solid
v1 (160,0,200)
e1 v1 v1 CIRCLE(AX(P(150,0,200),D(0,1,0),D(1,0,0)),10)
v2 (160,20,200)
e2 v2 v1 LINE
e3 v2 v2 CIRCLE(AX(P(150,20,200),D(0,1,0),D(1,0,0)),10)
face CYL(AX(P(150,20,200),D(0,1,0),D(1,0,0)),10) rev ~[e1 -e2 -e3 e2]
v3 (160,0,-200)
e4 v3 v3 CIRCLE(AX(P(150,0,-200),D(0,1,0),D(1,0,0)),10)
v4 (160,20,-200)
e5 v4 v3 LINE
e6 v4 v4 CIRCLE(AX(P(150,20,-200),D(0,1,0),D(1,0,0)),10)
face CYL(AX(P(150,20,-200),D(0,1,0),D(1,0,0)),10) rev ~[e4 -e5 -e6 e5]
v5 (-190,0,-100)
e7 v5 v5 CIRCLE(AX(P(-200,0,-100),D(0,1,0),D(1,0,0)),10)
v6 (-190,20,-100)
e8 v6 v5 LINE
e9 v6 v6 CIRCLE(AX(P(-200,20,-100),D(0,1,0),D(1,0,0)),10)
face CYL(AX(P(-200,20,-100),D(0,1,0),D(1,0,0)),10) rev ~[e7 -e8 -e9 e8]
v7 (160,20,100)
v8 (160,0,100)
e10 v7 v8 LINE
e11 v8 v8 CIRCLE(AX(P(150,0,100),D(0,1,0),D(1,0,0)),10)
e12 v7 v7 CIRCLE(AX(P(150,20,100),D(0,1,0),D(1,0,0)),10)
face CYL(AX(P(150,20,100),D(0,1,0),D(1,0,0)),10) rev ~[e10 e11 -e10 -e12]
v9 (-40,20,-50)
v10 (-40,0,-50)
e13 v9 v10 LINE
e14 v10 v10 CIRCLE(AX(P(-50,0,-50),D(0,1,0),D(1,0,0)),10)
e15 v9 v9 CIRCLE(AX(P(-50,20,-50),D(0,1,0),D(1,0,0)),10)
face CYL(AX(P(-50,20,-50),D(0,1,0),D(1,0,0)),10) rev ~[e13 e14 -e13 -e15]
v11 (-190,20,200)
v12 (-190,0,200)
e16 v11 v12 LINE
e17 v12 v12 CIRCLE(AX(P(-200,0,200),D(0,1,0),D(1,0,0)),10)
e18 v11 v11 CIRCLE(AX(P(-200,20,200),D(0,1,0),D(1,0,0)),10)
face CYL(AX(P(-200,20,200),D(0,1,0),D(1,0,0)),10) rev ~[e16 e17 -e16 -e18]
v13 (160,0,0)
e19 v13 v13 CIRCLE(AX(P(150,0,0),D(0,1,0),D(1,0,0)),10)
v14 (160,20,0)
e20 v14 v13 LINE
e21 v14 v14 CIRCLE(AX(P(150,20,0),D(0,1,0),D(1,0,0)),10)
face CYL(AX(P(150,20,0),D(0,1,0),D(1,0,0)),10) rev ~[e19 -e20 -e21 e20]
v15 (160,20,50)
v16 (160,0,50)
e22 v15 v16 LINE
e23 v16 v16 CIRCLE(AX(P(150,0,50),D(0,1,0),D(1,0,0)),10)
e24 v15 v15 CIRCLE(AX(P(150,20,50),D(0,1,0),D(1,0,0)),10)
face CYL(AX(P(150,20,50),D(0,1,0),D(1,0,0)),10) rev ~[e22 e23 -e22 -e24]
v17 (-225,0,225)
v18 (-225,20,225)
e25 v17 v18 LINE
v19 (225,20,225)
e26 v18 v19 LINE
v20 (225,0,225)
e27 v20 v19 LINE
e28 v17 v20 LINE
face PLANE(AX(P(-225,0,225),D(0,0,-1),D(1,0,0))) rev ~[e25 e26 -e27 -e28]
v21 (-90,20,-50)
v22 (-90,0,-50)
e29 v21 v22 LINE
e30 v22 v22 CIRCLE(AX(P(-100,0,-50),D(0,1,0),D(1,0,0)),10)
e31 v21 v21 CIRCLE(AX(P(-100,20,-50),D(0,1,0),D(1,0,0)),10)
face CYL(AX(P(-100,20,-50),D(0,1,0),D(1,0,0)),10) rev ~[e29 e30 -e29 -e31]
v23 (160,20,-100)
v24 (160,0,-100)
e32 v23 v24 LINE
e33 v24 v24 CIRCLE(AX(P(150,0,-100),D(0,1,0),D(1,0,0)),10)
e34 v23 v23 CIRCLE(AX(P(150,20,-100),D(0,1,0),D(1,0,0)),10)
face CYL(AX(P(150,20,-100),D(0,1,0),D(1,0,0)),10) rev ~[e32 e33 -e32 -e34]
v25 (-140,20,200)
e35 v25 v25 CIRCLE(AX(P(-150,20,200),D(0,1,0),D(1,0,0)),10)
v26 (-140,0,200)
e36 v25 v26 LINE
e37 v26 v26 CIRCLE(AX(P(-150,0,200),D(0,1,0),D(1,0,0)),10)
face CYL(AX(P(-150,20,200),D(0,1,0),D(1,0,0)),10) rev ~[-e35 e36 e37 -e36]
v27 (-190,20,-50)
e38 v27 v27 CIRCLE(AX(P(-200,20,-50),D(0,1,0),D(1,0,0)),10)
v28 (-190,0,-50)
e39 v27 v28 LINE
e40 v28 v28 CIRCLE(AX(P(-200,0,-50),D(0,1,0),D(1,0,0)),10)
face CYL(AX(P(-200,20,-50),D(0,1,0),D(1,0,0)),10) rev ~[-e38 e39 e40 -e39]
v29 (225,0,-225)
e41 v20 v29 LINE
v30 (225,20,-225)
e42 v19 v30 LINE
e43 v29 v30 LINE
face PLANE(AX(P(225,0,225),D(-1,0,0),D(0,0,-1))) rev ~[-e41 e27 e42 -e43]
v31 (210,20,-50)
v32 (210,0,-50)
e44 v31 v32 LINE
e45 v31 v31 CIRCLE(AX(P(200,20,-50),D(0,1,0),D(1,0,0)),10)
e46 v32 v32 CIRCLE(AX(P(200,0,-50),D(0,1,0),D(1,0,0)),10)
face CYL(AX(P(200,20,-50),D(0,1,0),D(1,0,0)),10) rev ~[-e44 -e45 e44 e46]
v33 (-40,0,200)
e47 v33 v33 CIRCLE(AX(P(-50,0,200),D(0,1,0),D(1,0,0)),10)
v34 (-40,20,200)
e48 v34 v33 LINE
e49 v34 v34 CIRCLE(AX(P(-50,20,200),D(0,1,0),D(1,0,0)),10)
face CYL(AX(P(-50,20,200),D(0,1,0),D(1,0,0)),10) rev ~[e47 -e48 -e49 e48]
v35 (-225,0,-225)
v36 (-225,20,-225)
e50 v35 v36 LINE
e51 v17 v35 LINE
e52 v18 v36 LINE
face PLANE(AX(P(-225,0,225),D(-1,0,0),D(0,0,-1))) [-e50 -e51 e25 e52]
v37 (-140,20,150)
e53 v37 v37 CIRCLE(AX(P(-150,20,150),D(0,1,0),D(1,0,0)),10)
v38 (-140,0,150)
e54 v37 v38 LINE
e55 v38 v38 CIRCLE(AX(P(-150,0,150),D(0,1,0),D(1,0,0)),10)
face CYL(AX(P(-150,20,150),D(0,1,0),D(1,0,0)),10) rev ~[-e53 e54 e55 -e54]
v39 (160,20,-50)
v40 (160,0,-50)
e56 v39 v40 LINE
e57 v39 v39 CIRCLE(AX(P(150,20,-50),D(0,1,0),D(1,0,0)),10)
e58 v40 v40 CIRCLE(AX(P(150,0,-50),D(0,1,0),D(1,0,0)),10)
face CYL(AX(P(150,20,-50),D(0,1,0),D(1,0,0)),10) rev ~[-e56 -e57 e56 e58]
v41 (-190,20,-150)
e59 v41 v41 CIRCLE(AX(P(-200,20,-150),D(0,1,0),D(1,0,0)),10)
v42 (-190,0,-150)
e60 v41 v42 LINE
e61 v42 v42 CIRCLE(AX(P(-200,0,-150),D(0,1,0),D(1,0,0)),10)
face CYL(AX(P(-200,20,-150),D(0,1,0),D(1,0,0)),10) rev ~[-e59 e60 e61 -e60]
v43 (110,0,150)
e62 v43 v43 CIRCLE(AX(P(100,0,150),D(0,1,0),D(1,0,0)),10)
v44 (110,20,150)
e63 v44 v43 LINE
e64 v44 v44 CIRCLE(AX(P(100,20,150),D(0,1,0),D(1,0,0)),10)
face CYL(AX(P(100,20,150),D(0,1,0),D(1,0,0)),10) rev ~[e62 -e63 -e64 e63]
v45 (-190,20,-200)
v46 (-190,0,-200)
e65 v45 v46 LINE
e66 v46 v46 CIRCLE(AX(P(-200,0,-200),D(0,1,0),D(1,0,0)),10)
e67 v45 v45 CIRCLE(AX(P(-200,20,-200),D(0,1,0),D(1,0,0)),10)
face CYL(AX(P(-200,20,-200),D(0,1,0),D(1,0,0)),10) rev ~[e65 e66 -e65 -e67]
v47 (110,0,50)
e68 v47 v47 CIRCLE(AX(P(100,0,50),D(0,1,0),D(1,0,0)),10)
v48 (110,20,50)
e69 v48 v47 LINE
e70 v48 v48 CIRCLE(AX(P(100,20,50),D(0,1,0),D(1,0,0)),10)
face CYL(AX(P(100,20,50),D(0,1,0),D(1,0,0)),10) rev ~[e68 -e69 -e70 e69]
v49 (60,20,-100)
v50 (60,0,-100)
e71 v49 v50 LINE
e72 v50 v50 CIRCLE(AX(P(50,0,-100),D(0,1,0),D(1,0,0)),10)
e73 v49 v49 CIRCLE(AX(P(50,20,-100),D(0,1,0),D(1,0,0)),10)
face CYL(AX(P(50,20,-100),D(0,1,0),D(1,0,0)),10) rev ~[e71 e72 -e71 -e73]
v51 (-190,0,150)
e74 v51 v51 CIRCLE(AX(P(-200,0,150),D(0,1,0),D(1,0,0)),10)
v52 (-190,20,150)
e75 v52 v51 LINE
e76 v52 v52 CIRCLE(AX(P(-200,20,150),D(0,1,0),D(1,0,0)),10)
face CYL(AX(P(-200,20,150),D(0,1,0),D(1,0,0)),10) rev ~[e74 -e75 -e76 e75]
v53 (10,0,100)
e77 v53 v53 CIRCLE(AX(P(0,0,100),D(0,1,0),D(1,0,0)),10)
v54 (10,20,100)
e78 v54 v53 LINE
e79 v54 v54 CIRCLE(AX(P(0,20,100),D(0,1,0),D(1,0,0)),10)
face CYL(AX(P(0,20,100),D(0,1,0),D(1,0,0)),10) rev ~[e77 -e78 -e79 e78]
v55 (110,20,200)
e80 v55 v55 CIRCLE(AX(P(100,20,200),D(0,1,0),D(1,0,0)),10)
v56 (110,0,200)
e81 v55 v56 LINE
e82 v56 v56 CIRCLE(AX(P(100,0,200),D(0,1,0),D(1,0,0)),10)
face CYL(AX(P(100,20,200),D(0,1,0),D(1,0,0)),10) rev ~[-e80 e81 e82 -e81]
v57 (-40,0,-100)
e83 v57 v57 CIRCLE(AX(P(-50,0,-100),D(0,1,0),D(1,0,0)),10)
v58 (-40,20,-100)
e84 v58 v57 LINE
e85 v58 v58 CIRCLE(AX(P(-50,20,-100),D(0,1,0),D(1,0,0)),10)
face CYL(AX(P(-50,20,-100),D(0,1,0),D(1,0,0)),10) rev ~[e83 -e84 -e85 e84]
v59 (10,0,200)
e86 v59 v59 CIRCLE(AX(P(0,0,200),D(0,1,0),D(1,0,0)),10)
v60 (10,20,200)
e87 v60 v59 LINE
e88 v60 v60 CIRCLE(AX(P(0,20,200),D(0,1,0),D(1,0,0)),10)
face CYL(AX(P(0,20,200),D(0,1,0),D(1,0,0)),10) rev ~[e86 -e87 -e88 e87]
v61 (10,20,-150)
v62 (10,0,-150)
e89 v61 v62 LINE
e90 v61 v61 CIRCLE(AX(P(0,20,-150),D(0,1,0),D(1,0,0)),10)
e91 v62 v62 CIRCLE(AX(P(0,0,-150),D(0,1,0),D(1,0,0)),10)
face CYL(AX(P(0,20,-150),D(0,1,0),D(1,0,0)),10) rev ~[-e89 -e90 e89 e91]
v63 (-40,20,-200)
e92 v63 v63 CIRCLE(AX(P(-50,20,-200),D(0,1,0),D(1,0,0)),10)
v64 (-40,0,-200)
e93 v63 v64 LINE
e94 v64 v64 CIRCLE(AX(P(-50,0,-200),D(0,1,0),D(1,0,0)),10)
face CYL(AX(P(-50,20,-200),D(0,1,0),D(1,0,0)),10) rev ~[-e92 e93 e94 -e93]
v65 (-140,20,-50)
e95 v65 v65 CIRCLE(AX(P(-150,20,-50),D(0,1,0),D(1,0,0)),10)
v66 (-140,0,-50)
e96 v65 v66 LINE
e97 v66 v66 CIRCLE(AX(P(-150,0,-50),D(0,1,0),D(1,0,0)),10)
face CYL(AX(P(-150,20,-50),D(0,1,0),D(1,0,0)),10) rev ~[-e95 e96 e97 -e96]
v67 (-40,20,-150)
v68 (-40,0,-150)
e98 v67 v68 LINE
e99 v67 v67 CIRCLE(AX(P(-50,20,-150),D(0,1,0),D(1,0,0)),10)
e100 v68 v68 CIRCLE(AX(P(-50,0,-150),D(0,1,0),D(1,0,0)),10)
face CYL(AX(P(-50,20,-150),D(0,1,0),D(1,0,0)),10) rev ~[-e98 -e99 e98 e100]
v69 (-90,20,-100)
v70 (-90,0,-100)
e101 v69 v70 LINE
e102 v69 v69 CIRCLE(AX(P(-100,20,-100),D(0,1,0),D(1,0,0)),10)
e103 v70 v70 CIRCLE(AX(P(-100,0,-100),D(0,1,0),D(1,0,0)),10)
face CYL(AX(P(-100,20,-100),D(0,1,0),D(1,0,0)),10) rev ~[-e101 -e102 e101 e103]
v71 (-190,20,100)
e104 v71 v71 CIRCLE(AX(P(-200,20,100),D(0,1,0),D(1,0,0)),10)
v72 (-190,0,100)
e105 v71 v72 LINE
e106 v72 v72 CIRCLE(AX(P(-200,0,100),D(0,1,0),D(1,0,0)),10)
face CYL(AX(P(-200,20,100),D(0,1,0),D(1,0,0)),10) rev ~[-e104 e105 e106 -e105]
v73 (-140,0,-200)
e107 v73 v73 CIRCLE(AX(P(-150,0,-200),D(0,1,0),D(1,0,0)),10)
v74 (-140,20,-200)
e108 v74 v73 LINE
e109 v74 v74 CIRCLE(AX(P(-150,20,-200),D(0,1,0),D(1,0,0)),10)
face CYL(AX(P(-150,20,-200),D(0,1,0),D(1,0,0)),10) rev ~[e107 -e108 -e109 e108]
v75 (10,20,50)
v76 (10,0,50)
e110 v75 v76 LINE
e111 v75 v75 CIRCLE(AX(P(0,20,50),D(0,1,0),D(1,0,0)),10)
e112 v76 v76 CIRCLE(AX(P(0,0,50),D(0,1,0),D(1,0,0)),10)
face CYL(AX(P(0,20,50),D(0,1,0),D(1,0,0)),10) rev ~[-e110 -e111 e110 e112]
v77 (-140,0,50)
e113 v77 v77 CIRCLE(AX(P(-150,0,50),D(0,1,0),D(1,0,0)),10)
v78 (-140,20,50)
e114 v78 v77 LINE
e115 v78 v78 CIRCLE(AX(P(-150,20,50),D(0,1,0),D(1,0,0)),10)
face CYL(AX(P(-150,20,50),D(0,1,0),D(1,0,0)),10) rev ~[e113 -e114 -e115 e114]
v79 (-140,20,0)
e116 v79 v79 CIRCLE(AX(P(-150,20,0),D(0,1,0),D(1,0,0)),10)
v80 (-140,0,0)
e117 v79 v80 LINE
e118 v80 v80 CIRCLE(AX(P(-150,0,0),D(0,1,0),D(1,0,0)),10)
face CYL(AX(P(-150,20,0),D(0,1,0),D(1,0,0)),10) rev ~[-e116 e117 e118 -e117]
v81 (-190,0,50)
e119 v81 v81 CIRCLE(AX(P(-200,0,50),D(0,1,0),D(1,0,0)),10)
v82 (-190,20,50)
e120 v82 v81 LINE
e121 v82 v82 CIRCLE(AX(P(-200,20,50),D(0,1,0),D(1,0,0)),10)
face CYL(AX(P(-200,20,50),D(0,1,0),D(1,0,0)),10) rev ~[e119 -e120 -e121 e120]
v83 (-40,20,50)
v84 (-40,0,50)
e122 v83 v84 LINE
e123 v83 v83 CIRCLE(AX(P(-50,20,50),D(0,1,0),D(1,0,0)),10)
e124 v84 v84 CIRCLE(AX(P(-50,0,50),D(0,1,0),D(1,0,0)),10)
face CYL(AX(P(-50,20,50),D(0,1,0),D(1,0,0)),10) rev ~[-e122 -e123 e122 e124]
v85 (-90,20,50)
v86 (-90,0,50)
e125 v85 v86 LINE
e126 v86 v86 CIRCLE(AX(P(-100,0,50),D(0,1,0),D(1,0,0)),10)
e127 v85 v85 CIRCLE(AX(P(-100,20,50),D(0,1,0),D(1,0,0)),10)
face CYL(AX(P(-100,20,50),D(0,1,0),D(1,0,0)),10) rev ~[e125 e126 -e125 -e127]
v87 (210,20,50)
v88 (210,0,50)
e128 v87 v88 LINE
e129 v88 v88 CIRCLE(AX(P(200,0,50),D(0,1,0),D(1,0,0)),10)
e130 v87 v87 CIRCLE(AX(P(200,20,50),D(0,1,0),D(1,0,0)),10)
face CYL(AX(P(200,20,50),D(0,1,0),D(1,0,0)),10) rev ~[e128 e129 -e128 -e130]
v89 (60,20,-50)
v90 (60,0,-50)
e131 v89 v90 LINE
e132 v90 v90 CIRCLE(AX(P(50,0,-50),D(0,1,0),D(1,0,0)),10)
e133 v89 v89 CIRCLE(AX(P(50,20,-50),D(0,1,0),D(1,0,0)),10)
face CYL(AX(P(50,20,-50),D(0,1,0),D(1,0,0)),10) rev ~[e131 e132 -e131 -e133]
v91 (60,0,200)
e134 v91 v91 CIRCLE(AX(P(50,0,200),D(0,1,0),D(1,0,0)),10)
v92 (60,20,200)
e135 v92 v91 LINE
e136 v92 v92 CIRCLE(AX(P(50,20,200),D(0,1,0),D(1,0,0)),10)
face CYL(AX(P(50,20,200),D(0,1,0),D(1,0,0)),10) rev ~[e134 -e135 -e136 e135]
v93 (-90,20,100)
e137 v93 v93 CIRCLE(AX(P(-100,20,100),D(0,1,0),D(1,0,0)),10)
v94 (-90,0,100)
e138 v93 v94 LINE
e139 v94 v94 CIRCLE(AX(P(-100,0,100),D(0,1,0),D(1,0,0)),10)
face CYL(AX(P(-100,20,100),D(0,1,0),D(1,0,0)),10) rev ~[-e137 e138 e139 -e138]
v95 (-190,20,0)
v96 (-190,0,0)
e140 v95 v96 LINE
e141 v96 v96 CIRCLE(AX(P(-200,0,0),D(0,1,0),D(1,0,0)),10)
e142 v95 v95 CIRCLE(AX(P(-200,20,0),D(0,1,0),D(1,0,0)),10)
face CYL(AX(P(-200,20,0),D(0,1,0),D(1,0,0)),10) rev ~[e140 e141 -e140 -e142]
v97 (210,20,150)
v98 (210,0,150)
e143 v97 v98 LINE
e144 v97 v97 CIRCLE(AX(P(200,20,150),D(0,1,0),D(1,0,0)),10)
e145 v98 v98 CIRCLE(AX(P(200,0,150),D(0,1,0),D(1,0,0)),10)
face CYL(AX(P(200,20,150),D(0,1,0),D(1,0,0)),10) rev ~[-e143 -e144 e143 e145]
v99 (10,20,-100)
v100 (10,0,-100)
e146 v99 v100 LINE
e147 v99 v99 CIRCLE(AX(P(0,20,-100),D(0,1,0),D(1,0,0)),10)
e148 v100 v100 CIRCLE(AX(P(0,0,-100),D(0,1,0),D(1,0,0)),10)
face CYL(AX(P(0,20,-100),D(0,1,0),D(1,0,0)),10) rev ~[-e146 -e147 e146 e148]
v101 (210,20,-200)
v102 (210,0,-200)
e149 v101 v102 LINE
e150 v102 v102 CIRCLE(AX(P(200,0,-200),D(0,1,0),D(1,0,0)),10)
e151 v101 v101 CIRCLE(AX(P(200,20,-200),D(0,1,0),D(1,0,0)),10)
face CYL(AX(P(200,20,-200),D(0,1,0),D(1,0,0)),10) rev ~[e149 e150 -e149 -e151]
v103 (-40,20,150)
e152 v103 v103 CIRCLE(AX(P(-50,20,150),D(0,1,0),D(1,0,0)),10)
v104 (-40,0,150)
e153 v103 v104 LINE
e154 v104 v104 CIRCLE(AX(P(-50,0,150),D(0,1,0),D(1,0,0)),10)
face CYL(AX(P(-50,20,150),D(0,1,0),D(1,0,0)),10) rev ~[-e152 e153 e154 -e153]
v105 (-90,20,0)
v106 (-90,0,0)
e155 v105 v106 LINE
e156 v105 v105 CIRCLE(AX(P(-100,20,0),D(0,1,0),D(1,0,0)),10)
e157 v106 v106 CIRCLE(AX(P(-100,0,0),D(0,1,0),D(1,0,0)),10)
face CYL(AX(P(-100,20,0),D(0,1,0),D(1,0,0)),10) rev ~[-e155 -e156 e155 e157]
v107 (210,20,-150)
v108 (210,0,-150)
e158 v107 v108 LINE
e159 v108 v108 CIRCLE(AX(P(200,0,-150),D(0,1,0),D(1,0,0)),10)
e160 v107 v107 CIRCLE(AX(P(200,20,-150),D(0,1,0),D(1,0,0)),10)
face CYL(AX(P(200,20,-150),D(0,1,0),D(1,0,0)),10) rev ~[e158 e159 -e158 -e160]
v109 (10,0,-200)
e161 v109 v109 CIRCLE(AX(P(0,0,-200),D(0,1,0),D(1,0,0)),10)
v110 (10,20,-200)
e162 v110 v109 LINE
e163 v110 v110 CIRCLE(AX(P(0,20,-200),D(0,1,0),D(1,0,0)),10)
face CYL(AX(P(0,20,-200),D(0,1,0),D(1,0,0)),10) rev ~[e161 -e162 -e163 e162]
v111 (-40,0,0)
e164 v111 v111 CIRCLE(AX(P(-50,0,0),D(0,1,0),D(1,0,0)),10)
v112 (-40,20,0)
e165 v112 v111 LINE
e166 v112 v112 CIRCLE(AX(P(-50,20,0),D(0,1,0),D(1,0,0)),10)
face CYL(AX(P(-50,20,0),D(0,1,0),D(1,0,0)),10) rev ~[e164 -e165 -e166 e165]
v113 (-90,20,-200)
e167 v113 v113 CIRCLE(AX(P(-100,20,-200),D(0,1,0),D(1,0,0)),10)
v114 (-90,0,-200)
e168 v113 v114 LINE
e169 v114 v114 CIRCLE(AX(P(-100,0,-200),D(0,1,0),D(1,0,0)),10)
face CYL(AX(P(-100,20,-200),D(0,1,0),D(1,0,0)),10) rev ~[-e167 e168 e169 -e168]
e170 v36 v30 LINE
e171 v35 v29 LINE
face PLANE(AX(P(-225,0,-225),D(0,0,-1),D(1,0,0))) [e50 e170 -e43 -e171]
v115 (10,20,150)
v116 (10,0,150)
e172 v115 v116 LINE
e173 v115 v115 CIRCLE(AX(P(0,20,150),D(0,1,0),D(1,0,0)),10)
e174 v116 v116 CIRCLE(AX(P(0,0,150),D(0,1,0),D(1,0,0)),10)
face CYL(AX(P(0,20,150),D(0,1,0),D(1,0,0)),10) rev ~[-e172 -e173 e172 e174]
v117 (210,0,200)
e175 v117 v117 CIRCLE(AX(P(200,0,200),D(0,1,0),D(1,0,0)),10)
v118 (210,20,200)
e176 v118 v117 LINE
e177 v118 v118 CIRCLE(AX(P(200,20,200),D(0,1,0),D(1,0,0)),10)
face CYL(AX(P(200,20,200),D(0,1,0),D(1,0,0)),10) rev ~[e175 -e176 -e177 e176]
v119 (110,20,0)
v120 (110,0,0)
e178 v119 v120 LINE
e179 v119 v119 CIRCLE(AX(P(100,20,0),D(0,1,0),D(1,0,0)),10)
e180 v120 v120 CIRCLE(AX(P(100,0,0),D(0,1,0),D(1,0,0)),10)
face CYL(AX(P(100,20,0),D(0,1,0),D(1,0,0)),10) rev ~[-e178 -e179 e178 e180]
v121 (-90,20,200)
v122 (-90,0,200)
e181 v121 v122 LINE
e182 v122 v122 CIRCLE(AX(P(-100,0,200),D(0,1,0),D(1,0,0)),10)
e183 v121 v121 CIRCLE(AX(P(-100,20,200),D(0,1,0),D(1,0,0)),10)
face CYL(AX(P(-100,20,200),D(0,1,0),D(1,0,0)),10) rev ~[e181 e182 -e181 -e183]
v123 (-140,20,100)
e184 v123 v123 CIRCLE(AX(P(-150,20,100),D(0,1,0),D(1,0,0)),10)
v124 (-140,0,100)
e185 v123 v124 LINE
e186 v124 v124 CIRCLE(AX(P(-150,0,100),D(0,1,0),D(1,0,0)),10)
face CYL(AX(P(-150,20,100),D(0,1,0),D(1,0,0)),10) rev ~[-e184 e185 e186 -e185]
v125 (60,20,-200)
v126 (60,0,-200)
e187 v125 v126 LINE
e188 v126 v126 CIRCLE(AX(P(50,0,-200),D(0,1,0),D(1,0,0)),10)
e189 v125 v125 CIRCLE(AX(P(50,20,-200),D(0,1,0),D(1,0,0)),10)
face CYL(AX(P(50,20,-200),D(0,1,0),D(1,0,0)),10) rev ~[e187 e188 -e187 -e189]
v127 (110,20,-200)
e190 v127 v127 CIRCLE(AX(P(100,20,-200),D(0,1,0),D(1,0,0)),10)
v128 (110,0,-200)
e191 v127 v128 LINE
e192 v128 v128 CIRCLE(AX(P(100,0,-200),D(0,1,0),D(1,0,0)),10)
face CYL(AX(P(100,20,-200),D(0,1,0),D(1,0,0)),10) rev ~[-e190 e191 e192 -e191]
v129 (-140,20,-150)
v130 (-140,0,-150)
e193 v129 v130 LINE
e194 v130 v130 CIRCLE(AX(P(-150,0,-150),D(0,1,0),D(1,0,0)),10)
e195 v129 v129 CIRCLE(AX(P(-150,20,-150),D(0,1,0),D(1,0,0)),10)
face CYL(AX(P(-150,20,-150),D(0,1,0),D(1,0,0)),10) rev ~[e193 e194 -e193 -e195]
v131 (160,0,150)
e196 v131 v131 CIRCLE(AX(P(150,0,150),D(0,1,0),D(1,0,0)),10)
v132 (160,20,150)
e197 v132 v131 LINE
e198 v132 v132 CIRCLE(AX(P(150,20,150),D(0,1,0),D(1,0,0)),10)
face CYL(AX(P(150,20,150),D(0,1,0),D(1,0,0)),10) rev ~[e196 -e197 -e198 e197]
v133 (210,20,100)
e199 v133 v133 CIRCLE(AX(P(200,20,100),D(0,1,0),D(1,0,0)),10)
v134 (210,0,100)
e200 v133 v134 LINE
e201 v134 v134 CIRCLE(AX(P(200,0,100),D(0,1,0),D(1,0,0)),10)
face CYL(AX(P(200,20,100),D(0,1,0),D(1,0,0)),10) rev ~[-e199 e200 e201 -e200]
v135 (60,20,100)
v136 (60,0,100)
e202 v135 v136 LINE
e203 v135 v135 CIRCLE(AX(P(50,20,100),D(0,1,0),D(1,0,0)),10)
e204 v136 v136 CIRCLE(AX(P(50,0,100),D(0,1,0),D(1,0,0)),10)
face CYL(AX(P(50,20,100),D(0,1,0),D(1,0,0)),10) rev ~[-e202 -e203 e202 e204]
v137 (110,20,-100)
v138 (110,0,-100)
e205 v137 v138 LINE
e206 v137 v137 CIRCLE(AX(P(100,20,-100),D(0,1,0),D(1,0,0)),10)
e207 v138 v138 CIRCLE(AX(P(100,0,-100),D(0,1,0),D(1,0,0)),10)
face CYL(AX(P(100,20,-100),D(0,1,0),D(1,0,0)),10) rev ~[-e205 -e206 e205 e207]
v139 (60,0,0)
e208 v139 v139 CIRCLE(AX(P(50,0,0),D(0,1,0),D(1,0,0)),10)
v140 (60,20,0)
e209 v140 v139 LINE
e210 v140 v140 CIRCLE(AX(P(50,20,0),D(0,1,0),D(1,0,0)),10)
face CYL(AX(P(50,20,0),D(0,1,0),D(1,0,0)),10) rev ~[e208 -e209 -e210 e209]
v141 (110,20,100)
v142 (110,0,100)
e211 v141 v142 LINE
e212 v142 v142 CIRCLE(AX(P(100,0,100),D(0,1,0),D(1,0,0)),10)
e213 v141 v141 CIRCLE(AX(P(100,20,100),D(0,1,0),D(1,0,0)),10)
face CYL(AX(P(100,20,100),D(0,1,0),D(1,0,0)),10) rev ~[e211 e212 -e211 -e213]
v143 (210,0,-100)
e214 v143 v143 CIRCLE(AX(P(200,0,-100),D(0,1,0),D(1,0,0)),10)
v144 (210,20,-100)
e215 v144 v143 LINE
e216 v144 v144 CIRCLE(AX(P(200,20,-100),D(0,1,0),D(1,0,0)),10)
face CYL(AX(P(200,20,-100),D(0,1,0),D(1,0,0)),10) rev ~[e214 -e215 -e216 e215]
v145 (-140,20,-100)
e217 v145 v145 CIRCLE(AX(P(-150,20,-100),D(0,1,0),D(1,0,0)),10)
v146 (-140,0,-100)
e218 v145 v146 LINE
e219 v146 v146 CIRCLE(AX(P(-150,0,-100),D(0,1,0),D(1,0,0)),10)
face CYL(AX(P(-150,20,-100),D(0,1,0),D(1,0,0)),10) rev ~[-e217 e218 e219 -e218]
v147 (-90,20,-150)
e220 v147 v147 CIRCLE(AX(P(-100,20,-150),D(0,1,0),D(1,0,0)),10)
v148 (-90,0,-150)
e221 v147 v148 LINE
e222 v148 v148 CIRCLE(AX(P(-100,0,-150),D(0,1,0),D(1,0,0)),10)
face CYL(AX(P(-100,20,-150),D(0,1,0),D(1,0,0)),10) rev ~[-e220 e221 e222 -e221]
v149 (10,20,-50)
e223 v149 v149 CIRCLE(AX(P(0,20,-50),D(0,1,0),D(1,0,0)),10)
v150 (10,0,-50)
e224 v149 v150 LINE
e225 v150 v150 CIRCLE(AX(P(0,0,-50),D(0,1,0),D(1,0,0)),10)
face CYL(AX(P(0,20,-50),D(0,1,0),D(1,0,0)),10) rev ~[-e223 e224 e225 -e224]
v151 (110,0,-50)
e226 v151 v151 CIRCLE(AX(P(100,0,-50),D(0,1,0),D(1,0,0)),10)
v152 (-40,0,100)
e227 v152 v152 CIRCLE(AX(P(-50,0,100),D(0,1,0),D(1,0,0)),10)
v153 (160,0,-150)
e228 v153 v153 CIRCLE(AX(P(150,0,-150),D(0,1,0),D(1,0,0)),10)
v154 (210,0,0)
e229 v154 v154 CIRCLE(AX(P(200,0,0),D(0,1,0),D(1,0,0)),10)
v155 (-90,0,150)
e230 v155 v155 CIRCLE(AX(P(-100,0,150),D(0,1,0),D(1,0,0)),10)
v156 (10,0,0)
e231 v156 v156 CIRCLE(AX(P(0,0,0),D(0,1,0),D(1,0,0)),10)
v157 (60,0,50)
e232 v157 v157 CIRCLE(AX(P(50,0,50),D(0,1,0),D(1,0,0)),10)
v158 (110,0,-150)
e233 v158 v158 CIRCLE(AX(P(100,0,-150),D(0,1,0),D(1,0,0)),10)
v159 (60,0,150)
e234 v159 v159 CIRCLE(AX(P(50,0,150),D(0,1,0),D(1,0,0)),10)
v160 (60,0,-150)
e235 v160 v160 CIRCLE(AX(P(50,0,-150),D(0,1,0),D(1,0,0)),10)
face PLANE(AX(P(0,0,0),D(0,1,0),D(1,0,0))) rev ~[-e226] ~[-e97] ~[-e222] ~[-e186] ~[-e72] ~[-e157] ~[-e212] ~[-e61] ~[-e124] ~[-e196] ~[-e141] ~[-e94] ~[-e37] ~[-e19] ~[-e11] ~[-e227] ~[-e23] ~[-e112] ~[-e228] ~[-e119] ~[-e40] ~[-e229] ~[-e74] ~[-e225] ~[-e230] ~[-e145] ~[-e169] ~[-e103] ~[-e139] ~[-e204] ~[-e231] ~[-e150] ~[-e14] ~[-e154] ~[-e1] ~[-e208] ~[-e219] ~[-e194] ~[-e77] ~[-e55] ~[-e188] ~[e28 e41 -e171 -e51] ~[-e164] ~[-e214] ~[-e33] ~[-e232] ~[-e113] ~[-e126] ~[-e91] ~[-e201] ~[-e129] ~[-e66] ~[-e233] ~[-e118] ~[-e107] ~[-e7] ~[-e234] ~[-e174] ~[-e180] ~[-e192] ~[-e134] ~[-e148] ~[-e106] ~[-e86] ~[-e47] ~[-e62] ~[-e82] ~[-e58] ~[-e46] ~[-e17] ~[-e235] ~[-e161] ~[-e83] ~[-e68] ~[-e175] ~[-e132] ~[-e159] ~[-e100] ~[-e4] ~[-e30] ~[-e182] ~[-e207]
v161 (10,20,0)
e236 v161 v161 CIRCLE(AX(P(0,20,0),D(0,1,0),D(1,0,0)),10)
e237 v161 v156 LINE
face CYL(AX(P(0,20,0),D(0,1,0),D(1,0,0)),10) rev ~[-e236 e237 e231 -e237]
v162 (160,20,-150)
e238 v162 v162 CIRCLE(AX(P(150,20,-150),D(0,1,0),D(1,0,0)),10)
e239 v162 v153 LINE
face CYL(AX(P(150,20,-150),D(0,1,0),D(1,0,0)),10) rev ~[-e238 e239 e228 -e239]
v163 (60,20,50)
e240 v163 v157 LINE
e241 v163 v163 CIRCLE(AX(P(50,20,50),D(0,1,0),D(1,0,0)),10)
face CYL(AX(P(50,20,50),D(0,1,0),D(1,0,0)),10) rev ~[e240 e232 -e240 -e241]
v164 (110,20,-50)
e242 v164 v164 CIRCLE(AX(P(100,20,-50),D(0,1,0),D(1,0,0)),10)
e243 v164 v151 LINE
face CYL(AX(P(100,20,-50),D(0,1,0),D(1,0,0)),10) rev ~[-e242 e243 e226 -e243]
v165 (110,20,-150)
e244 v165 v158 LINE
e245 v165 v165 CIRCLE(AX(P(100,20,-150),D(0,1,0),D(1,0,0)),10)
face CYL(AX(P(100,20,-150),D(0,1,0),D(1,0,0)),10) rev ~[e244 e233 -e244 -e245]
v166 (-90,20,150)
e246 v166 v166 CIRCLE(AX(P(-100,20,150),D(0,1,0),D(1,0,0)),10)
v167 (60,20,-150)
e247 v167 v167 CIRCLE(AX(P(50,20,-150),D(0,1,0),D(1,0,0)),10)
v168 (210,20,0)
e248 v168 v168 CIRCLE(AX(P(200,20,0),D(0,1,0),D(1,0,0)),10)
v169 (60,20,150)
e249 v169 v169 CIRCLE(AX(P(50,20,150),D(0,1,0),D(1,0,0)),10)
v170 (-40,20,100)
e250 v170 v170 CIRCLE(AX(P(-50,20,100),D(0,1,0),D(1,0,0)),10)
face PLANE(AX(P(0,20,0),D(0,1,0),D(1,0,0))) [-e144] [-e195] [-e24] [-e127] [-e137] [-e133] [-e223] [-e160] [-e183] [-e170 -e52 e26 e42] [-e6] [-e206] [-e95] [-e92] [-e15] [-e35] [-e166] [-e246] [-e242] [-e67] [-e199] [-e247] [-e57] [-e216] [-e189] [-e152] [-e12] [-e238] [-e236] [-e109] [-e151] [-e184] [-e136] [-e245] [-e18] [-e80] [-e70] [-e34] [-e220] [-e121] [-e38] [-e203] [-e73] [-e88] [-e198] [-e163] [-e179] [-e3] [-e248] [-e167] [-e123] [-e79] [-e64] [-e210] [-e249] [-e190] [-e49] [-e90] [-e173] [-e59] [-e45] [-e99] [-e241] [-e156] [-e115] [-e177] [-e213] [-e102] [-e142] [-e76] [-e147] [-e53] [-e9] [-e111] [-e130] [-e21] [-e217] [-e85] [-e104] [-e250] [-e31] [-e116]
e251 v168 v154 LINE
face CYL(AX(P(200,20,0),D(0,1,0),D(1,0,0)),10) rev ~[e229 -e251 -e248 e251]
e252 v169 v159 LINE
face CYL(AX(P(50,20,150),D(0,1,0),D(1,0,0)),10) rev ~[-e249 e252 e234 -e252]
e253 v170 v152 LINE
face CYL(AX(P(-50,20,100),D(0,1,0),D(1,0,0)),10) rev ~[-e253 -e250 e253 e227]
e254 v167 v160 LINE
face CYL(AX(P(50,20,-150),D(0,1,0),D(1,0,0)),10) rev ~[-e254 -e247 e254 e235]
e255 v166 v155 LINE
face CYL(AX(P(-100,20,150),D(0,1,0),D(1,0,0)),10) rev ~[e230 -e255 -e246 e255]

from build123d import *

# Parameters (mm, degrees)
ESBO_O1_W                = 450
ESBO_O1_H                = 450
RESSALTO_EXTRUS_O1_DEPTH = 20
ESBO_O2_R                = 10
CORTE_EXTRUS_O1_DEPTH    = 21


with BuildPart() as part:
    # Esboço1 → Ressalto-extrusão1 (new body)
    with BuildSketch(Plane(origin=(0, 0, 0), x_dir=(1, 0, 0), z_dir=(0, 1, 0))):
        Rectangle(ESBO_O1_W, ESBO_O1_H)
    extrude(amount=RESSALTO_EXTRUS_O1_DEPTH)

    # Esboço2 → Corte-extrusão1 (cut, through all)
    with BuildSketch(Plane(origin=(0, 20, 0), x_dir=(1, 0, 0), z_dir=(0, 1, 0))):
        with Locations((-200, 200)):
            Circle(ESBO_O2_R)
        with Locations((-150, 200)):
            Circle(ESBO_O2_R)
        with Locations((-100, 200)):
            Circle(ESBO_O2_R)
        with Locations((-50, 200)):
            Circle(ESBO_O2_R)
        with Locations((0, 200)):
            Circle(ESBO_O2_R)
        with Locations((50, 200)):
            Circle(ESBO_O2_R)
        with Locations((100, 200)):
            Circle(ESBO_O2_R)
        with Locations((150, 200)):
            Circle(ESBO_O2_R)
        with Locations((200, 200)):
            Circle(ESBO_O2_R)
        with Locations((250, 200)):
            Circle(ESBO_O2_R)
        with Locations((-150, 150)):
            Circle(ESBO_O2_R)
        with Locations((-100, 150)):
            Circle(ESBO_O2_R)
        with Locations((-50, 150)):
            Circle(ESBO_O2_R)
        with Locations((0, 150)):
            Circle(ESBO_O2_R)
        with Locations((50, 150)):
            Circle(ESBO_O2_R)
        with Locations((100, 150)):
            Circle(ESBO_O2_R)
        with Locations((150, 150)):
            Circle(ESBO_O2_R)
        with Locations((200, 150)):
            Circle(ESBO_O2_R)
        with Locations((250, 150)):
            Circle(ESBO_O2_R)
        with Locations((-150, 100)):
            Circle(ESBO_O2_R)
        with Locations((-100, 100)):
            Circle(ESBO_O2_R)
        with Locations((-50, 100)):
            Circle(ESBO_O2_R)
        with Locations((0, 100)):
            Circle(ESBO_O2_R)
        with Locations((50, 100)):
            Circle(ESBO_O2_R)
        with Locations((100, 100)):
            Circle(ESBO_O2_R)
        with Locations((150, 100)):
            Circle(ESBO_O2_R)
        with Locations((200, 100)):
            Circle(ESBO_O2_R)
        with Locations((250, 100)):
            Circle(ESBO_O2_R)
        with Locations((-150, 50)):
            Circle(ESBO_O2_R)
        with Locations((-100, 50)):
            Circle(ESBO_O2_R)
        with Locations((-50, 50)):
            Circle(ESBO_O2_R)
        with Locations((0, 50)):
            Circle(ESBO_O2_R)
        with Locations((50, 50)):
            Circle(ESBO_O2_R)
        with Locations((100, 50)):
            Circle(ESBO_O2_R)
        with Locations((150, 50)):
            Circle(ESBO_O2_R)
        with Locations((200, 50)):
            Circle(ESBO_O2_R)
        with Locations((250, 50)):
            Circle(ESBO_O2_R)
        with Locations((-150, 0)):
            Circle(ESBO_O2_R)
        with Locations((-100, 0)):
            Circle(ESBO_O2_R)
        with Locations((-50, 0)):
            Circle(ESBO_O2_R)
        Circle(ESBO_O2_R)
        with Locations((50, 0)):
            Circle(ESBO_O2_R)
        with Locations((100, 0)):
            Circle(ESBO_O2_R)
        with Locations((150, 0)):
            Circle(ESBO_O2_R)
        with Locations((200, 0)):
            Circle(ESBO_O2_R)
        with Locations((250, 0)):
            Circle(ESBO_O2_R)
        with Locations((-150, -50)):
            Circle(ESBO_O2_R)
        with Locations((-100, -50)):
            Circle(ESBO_O2_R)
        with Locations((-50, -50)):
            Circle(ESBO_O2_R)
        with Locations((0, -50)):
            Circle(ESBO_O2_R)
        with Locations((50, -50)):
            Circle(ESBO_O2_R)
        with Locations((100, -50)):
            Circle(ESBO_O2_R)
        with Locations((150, -50)):
            Circle(ESBO_O2_R)
        with Locations((200, -50)):
            Circle(ESBO_O2_R)
        with Locations((250, -50)):
            Circle(ESBO_O2_R)
        with Locations((-150, -100)):
            Circle(ESBO_O2_R)
        with Locations((-100, -100)):
            Circle(ESBO_O2_R)
        with Locations((-50, -100)):
            Circle(ESBO_O2_R)
        with Locations((0, -100)):
            Circle(ESBO_O2_R)
        with Locations((50, -100)):
            Circle(ESBO_O2_R)
        with Locations((100, -100)):
            Circle(ESBO_O2_R)
        with Locations((150, -100)):
            Circle(ESBO_O2_R)
        with Locations((200, -100)):
            Circle(ESBO_O2_R)
        with Locations((250, -100)):
            Circle(ESBO_O2_R)
        with Locations((-150, -150)):
            Circle(ESBO_O2_R)
        with Locations((-100, -150)):
            Circle(ESBO_O2_R)
        with Locations((-50, -150)):
            Circle(ESBO_O2_R)
        with Locations((0, -150)):
            Circle(ESBO_O2_R)
        with Locations((50, -150)):
            Circle(ESBO_O2_R)
        with Locations((100, -150)):
            Circle(ESBO_O2_R)
        with Locations((150, -150)):
            Circle(ESBO_O2_R)
        with Locations((200, -150)):
            Circle(ESBO_O2_R)
        with Locations((250, -150)):
            Circle(ESBO_O2_R)
        with Locations((-150, -200)):
            Circle(ESBO_O2_R)
        with Locations((-100, -200)):
            Circle(ESBO_O2_R)
        with Locations((-50, -200)):
            Circle(ESBO_O2_R)
        with Locations((0, -200)):
            Circle(ESBO_O2_R)
        with Locations((50, -200)):
            Circle(ESBO_O2_R)
        with Locations((100, -200)):
            Circle(ESBO_O2_R)
        with Locations((150, -200)):
            Circle(ESBO_O2_R)
        with Locations((200, -200)):
            Circle(ESBO_O2_R)
        with Locations((250, -200)):
            Circle(ESBO_O2_R)
        with Locations((-150, -250)):
            Circle(ESBO_O2_R)
        with Locations((-100, -250)):
            Circle(ESBO_O2_R)
        with Locations((-50, -250)):
            Circle(ESBO_O2_R)
        with Locations((0, -250)):
            Circle(ESBO_O2_R)
        with Locations((50, -250)):
            Circle(ESBO_O2_R)
        with Locations((100, -250)):
            Circle(ESBO_O2_R)
        with Locations((150, -250)):
            Circle(ESBO_O2_R)
        with Locations((200, -250)):
            Circle(ESBO_O2_R)
        with Locations((250, -250)):
            Circle(ESBO_O2_R)
        with Locations((-200, 150)):
            Circle(ESBO_O2_R)
        with Locations((-200, 100)):
            Circle(ESBO_O2_R)
        with Locations((-200, 50)):
            Circle(ESBO_O2_R)
        with Locations((-200, 0)):
            Circle(ESBO_O2_R)
        with Locations((-200, -50)):
            Circle(ESBO_O2_R)
        with Locations((-200, -100)):
            Circle(ESBO_O2_R)
        with Locations((-200, -150)):
            Circle(ESBO_O2_R)
        with Locations((-200, -200)):
            Circle(ESBO_O2_R)
        with Locations((-200, -250)):
            Circle(ESBO_O2_R)
    extrude(amount=-CORTE_EXTRUS_O1_DEPTH, mode=Mode.SUBTRACT)


solid = part.part
